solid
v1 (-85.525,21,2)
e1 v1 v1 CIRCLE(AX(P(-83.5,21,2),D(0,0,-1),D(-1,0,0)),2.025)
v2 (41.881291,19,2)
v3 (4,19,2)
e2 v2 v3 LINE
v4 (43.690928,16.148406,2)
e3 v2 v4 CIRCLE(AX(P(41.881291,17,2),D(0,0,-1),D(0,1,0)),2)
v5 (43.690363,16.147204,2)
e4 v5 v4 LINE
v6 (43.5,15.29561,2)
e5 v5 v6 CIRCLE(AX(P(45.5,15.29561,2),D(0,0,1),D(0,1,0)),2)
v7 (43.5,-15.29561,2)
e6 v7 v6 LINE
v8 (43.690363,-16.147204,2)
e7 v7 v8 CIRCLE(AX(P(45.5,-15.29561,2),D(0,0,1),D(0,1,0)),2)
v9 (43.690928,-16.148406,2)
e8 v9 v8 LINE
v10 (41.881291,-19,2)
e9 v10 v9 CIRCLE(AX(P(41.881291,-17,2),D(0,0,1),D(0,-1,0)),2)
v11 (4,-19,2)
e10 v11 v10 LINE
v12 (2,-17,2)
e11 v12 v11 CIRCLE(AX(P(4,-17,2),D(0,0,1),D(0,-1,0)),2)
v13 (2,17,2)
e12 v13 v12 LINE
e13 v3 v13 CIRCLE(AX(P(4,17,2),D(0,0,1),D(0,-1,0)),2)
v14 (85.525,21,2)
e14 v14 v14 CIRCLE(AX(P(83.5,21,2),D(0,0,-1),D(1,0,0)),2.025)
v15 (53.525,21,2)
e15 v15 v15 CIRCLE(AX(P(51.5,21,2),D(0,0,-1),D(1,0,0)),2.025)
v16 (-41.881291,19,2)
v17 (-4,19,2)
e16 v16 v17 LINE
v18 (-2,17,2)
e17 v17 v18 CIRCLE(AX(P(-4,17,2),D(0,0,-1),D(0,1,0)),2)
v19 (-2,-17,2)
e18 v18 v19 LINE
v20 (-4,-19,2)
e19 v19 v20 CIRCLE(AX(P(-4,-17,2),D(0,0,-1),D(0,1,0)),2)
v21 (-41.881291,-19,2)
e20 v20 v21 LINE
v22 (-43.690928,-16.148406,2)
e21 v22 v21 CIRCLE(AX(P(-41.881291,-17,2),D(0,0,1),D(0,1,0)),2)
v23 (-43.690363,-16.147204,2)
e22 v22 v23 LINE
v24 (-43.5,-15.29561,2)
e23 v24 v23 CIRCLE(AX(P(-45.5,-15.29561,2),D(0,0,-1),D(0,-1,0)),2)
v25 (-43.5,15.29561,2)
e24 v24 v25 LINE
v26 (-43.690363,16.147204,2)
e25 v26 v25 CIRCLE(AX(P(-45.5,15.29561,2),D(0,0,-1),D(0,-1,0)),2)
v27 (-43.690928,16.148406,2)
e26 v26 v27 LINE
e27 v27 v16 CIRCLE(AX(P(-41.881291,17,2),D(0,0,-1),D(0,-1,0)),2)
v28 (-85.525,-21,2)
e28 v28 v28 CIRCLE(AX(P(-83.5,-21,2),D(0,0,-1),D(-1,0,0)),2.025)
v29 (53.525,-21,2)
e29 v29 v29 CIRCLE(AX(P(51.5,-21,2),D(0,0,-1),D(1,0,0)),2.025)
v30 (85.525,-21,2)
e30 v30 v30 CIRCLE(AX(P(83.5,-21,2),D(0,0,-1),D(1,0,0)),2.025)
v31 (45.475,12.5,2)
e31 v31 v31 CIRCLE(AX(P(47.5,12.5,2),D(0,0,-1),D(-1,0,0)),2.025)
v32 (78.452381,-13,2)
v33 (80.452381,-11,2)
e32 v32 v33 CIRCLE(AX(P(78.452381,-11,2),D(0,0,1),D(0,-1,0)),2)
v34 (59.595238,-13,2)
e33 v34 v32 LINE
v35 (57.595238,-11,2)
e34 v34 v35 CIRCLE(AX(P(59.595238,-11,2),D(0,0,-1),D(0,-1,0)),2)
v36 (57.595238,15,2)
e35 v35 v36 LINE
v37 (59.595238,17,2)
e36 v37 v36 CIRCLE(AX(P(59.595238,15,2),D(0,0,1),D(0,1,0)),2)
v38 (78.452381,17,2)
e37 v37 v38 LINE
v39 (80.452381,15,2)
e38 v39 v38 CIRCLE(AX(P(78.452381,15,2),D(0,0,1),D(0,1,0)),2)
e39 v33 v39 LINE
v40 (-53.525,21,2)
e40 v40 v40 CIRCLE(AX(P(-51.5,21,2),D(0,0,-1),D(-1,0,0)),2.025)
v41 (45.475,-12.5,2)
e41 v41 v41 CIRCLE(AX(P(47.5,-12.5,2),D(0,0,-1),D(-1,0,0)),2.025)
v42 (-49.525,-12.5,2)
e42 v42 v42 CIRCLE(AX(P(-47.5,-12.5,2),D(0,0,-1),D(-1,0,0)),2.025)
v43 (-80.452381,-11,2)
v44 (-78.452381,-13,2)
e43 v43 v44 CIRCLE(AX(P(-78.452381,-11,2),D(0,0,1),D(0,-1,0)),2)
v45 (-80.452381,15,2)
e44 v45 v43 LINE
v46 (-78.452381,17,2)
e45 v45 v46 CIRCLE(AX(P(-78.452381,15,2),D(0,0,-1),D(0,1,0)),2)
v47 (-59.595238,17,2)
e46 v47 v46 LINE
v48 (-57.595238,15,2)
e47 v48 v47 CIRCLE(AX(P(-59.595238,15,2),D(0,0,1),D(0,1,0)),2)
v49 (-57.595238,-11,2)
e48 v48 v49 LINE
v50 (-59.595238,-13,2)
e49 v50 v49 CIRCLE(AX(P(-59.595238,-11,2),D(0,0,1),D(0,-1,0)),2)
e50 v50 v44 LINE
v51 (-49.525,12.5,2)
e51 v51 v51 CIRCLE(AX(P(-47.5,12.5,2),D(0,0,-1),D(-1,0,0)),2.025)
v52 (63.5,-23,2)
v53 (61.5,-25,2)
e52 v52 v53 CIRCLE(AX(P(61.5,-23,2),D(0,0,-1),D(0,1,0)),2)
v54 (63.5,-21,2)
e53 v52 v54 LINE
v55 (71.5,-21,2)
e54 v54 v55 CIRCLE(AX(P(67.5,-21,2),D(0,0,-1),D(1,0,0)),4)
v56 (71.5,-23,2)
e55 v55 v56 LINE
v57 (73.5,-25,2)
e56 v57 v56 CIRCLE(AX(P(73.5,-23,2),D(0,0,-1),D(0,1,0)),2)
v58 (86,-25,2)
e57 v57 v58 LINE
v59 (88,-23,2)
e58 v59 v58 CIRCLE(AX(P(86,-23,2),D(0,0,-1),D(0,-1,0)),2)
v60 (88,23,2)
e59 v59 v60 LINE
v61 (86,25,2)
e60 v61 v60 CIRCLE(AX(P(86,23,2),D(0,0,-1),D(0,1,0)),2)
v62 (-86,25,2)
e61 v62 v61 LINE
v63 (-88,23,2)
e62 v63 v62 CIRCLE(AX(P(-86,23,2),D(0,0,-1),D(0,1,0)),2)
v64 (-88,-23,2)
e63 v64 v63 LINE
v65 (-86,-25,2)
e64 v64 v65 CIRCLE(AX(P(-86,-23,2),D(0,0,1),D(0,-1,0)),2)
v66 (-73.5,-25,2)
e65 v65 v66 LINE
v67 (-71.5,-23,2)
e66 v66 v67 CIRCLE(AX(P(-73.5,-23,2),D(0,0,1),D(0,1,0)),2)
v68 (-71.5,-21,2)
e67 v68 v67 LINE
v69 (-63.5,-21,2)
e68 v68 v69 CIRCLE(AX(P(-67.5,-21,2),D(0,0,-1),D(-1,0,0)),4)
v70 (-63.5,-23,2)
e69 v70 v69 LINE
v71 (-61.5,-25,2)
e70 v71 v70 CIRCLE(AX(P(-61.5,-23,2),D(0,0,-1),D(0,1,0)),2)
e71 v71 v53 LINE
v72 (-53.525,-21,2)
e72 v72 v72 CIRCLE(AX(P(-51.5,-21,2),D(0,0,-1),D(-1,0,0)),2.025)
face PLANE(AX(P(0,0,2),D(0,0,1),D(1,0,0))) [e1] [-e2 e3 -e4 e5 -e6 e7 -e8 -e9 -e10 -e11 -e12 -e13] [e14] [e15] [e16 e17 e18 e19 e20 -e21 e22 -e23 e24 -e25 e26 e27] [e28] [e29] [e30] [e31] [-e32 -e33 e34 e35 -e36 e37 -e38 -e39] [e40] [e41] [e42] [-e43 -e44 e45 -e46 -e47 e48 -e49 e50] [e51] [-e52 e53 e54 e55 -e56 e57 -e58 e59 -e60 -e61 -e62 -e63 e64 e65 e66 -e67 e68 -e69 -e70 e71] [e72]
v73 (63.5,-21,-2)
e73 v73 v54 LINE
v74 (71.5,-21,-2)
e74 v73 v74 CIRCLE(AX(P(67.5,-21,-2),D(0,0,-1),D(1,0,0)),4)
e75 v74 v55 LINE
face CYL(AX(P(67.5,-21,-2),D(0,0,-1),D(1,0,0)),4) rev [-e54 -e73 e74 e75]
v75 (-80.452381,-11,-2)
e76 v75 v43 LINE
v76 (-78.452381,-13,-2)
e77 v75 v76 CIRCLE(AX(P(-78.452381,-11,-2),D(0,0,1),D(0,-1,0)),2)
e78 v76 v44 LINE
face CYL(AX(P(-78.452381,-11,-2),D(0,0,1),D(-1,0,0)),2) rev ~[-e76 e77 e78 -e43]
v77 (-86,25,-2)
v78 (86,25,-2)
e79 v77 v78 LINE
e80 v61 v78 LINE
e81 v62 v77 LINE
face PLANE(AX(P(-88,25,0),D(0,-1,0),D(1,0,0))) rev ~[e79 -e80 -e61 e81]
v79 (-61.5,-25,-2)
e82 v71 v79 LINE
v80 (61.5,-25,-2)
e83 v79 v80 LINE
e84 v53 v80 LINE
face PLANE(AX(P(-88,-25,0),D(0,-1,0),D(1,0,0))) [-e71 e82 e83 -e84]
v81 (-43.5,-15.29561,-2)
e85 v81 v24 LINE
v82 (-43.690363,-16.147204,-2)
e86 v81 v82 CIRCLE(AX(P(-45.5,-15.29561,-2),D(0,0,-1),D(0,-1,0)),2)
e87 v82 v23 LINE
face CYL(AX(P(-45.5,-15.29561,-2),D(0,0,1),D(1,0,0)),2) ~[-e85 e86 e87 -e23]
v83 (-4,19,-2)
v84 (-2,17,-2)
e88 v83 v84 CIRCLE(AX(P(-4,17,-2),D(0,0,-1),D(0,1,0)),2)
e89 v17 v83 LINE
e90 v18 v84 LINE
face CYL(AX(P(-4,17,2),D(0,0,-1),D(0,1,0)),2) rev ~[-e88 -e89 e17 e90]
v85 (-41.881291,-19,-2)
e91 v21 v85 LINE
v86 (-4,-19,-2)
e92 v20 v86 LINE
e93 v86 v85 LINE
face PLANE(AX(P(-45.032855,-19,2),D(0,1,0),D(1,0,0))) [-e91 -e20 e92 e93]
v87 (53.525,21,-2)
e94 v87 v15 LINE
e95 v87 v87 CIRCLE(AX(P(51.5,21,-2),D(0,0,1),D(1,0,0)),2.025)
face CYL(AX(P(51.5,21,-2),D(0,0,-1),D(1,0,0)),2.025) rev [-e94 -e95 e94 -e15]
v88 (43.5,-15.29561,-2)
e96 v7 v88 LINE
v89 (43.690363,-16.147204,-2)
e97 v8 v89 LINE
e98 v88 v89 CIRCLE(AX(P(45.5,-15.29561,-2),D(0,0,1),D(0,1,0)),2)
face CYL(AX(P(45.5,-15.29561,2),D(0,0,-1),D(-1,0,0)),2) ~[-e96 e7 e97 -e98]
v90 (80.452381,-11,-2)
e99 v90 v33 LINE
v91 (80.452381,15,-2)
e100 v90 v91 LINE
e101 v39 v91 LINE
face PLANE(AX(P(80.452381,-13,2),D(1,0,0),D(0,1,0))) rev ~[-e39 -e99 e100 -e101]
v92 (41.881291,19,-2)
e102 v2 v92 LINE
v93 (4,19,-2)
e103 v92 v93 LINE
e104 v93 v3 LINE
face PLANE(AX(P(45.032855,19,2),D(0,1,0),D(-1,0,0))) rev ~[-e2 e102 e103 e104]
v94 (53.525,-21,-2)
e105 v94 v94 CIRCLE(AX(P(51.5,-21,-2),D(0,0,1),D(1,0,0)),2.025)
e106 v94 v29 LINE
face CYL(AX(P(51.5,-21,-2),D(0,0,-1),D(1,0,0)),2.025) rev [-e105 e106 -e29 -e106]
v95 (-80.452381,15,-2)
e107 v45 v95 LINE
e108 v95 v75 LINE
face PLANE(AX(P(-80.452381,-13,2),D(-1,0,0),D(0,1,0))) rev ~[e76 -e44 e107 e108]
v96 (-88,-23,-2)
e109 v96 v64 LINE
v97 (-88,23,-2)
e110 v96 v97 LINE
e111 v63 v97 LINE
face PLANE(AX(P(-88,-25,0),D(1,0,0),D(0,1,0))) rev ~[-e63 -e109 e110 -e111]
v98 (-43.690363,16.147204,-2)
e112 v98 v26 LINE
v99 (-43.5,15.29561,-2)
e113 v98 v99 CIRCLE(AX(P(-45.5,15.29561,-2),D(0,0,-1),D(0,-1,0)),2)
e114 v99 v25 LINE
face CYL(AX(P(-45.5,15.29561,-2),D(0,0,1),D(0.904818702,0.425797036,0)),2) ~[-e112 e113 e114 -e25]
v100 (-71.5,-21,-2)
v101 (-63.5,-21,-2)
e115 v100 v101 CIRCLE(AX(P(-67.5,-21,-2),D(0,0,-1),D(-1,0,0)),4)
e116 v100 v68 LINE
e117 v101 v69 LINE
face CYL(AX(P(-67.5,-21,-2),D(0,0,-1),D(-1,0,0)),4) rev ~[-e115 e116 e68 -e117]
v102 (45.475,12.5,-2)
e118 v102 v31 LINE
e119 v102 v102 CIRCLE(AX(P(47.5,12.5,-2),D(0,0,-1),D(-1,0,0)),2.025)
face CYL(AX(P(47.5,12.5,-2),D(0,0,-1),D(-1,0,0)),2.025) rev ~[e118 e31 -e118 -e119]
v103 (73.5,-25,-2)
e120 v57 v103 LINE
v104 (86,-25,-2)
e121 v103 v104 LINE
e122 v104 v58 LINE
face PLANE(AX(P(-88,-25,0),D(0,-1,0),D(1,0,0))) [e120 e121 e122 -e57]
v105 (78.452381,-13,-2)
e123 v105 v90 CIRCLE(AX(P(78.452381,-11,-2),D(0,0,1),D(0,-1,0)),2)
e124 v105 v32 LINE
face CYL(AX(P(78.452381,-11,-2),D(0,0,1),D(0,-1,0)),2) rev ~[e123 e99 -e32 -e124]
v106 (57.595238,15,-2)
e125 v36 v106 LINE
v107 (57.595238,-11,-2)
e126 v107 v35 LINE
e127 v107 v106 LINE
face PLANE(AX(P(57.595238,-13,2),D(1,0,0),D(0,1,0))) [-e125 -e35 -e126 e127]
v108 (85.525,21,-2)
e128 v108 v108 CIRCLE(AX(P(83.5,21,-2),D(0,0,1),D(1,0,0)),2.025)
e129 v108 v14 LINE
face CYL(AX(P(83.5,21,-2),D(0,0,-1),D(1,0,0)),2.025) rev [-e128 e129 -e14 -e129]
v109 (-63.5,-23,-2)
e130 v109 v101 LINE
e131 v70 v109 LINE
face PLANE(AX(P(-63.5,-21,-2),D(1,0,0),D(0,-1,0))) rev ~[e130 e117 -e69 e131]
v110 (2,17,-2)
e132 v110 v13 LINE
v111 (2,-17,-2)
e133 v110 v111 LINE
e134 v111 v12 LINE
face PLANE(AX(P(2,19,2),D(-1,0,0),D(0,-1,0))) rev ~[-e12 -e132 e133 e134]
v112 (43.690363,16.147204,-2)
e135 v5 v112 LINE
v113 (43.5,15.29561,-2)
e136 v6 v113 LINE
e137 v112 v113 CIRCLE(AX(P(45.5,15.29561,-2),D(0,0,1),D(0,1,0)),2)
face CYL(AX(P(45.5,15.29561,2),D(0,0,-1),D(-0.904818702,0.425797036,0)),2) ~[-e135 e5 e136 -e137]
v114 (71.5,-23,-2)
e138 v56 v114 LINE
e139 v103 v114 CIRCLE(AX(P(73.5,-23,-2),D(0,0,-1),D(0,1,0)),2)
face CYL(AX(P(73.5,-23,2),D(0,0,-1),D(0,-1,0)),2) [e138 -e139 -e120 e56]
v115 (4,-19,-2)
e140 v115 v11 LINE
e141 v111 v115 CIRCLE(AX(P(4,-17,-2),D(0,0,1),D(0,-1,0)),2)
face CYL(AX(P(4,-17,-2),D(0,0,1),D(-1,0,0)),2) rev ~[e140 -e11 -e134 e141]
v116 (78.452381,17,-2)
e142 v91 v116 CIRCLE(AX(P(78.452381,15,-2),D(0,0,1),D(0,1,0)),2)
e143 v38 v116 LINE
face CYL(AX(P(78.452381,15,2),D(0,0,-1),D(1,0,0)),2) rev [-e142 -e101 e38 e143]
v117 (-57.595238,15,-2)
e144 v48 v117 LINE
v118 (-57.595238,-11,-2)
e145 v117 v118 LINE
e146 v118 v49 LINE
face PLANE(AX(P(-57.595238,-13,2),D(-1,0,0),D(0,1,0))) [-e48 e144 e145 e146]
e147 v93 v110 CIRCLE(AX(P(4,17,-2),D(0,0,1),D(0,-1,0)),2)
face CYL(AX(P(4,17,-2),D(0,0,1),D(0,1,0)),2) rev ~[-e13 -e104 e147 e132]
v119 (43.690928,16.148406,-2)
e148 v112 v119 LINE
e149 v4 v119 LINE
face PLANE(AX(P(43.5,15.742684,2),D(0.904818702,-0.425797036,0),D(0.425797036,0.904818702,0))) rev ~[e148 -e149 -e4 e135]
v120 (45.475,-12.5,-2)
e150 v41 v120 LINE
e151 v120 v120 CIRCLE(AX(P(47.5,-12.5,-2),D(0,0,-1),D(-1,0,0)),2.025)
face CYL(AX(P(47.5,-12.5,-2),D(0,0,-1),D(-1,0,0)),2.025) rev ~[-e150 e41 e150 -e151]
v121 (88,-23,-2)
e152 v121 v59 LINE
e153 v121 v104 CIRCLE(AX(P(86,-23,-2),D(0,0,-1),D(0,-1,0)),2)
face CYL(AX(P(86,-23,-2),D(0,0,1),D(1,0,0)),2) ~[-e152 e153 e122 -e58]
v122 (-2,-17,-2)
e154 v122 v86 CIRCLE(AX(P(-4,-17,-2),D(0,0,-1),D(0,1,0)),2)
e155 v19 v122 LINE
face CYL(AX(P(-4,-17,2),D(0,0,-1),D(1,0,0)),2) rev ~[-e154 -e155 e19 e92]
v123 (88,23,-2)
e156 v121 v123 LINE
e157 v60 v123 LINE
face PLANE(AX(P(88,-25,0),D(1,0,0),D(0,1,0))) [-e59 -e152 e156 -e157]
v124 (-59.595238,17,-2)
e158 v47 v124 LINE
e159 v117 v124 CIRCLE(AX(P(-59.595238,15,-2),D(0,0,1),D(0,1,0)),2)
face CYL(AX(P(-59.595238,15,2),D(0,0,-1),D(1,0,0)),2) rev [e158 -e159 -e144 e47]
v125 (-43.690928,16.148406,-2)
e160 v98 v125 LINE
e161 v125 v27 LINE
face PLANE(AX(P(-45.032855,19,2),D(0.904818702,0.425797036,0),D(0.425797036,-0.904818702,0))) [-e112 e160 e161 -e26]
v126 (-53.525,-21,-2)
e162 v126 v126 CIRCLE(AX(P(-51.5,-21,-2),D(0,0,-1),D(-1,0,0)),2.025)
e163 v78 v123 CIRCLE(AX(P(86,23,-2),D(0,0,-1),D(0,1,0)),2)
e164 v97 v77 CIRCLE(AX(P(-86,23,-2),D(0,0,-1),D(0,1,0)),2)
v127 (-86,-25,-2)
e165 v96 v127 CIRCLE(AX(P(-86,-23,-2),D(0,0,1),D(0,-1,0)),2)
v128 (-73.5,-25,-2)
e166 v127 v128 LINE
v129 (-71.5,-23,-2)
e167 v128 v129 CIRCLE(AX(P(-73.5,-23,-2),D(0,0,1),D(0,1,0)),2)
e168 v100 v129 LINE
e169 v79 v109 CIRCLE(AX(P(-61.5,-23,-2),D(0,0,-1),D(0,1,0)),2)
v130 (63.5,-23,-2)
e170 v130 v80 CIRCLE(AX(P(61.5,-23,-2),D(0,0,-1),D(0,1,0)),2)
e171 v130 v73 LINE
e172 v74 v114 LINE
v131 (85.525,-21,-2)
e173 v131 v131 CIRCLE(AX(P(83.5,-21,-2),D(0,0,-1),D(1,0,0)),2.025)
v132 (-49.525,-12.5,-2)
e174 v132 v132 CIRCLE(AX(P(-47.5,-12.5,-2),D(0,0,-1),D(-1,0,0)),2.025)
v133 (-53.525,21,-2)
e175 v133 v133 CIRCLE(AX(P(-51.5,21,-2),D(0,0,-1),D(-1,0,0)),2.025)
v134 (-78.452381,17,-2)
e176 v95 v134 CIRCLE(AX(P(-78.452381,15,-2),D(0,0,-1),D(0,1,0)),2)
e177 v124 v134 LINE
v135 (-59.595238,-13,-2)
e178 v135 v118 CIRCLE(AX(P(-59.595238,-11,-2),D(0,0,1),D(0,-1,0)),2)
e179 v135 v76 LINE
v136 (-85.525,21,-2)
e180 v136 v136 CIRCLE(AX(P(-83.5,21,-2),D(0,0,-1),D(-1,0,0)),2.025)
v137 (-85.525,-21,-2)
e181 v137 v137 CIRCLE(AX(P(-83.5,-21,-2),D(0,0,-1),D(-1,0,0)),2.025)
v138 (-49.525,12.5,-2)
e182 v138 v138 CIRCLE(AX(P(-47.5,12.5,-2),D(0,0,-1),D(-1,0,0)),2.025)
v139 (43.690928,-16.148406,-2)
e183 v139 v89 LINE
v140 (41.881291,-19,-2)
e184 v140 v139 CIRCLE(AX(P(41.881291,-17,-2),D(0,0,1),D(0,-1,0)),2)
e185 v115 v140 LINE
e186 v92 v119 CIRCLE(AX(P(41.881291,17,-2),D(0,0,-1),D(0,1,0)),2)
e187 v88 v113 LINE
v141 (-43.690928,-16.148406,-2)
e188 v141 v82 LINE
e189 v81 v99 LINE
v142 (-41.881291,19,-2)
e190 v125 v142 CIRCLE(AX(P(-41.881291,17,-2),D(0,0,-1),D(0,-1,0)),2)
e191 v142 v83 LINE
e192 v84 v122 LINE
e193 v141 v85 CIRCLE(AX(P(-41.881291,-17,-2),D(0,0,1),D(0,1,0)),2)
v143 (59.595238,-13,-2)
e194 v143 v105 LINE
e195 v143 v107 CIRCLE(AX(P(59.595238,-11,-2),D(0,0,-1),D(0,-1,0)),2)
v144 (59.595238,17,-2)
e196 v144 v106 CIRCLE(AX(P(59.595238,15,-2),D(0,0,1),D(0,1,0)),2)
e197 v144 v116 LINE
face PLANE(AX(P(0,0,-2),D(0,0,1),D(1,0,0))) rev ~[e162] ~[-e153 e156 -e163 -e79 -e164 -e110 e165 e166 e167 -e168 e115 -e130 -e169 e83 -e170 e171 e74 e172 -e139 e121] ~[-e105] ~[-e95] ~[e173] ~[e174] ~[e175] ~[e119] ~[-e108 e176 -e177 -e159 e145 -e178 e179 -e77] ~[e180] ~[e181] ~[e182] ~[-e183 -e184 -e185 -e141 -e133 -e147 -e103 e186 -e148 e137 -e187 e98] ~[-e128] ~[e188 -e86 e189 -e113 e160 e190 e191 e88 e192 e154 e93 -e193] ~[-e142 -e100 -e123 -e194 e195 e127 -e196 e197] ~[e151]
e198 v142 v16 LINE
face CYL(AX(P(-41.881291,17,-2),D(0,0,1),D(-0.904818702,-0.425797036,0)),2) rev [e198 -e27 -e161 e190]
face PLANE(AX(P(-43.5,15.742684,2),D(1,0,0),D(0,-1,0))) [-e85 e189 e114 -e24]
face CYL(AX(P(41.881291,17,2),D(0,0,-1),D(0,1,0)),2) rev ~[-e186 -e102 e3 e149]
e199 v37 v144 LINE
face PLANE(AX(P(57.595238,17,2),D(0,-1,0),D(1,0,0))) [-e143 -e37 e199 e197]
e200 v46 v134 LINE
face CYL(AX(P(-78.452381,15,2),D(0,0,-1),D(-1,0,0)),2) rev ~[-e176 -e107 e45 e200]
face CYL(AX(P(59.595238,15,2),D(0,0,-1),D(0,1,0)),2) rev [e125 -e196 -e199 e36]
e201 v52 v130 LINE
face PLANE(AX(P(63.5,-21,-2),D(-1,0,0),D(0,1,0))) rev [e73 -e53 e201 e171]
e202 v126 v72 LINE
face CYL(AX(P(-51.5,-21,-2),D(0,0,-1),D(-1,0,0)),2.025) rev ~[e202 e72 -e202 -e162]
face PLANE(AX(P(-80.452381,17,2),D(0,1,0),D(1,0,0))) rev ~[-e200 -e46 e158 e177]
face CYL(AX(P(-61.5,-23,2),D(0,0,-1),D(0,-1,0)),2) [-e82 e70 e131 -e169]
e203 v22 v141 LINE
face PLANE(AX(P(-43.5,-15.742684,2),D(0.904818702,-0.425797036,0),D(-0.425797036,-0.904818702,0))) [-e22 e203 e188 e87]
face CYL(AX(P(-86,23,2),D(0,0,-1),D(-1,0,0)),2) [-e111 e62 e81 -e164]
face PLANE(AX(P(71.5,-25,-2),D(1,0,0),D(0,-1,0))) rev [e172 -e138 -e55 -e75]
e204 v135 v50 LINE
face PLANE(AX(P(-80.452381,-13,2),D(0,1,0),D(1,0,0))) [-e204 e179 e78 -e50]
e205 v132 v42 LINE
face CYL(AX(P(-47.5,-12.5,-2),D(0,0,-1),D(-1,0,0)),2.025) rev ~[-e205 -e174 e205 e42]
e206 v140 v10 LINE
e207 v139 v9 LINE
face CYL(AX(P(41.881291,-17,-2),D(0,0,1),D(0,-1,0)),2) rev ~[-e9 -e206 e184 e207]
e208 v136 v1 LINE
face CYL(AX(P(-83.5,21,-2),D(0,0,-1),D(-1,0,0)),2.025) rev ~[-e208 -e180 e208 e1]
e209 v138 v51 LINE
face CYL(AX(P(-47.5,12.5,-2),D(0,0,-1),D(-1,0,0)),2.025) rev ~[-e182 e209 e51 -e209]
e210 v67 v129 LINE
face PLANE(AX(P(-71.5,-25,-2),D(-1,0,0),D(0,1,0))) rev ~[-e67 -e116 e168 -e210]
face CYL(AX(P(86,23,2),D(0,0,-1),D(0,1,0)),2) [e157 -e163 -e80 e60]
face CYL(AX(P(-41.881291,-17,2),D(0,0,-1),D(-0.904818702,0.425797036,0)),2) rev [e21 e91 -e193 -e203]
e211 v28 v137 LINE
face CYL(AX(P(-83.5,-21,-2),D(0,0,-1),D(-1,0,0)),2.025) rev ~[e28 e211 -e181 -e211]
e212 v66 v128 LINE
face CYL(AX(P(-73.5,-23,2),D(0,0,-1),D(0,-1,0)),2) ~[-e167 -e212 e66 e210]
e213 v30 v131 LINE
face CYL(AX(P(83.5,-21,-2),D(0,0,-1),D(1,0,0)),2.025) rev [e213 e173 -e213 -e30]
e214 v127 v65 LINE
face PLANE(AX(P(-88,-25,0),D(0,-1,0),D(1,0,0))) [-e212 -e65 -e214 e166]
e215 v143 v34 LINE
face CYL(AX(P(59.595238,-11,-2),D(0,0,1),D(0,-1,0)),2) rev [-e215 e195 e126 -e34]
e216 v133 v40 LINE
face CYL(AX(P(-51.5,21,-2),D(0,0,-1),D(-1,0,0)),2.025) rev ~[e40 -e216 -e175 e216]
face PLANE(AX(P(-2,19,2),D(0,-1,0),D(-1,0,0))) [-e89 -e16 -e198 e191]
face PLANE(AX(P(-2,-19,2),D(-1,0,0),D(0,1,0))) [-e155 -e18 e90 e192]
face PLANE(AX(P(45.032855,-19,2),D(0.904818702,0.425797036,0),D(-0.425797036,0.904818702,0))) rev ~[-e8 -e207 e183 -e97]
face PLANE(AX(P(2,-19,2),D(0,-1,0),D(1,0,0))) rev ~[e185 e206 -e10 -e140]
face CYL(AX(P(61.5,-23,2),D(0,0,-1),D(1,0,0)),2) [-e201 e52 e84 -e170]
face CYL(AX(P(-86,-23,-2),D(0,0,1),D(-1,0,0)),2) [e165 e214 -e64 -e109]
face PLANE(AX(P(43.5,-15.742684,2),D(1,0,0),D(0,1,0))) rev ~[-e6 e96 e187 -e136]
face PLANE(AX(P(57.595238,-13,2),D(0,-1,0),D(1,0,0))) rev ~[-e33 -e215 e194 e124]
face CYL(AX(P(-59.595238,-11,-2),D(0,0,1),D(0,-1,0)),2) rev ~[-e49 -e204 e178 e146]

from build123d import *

# Parameters (mm, degrees)
SKETCH_1_W          = 176
SKETCH_1_H          = 50
EXTRUDE_1_DEPTH     = 2
SKETCH_2_R          = 2.025
CUT_EXTRUDE_1_DEPTH = 22
CUT_EXTRUDE_2_DEPTH = 17
FILLET_1_R          = 2
SKETCH_4_R          = 2.025
CUT_EXTRUDE_3_DEPTH = 5
CUT_EXTRUDE_5_DEPTH = 15.5
SKETCH_8_W          = 22.857142857
SKETCH_8_H          = 30
CUT_EXTRUDE_6_DEPTH = 15.5
FILLET_2_R          = 2


with BuildPart() as part:
    # 草图1 → 凸台-拉伸1 (new, symmetric)
    with BuildSketch(Plane.XY):
        Rectangle(SKETCH_1_W, SKETCH_1_H)
    extrude(amount=EXTRUDE_1_DEPTH, both=True)

    # 草图2 → 切除-拉伸1 (cut, symmetric)
    with BuildSketch(Plane(origin=(0, 0, -2), x_dir=(-1, 0, 0), z_dir=(0, 0, -1))):
        with Locations((51.5, 21)):
            Circle(SKETCH_2_R)
        with Locations((51.5, -21)):
            Circle(SKETCH_2_R)
        with Locations((83.5, 21)):
            Circle(SKETCH_2_R)
        with Locations((83.5, -21)):
            Circle(SKETCH_2_R)
    cut_extrude_1 = extrude(amount=CUT_EXTRUDE_1_DEPTH, both=True, mode=Mode.SUBTRACT)

    # 镜向1: 切除-拉伸1 across plane
    add(cut_extrude_1.mirror(Plane(origin=(0, 0, 0), x_dir=(0, 0, 1), z_dir=(1, 0, 0))), mode=Mode.SUBTRACT)

    # 草图3 → 切除-拉伸2 (cut, symmetric)
    with BuildSketch(Plane(origin=(0, 0, -2), x_dir=(-1, 0, 0), z_dir=(0, 0, -1))):
        with BuildLine():
            Line((63.5, -21), (63.5, -25))
            Line((63.5, -25), (71.5, -25))
            Line((71.5, -25), (71.5, -21))
            ThreePointArc((71.5, -21), (67.5, -17), (63.5, -21))
        make_face()
    cut_extrude_2 = extrude(amount=CUT_EXTRUDE_2_DEPTH, both=True, mode=Mode.SUBTRACT)

    # 镜向2: 切除-拉伸2 across plane
    add(cut_extrude_2.mirror(Plane(origin=(0, 0, 0), x_dir=(0, 0, 1), z_dir=(1, 0, 0))), mode=Mode.SUBTRACT)

    # 圆角1
    fillet_1_edges = [part.edges().sort_by_distance(p)[0] for p in [
        (-71.5, -25, 0),
        (-63.5, -25, 0),
        (88, -25, 0),
        (-88, -25, 0),
        (-88, 25, 0),
        (88, 25, 0),
        (63.5, -25, 0),
        (71.5, -25, 0),
    ]]
    fillet(fillet_1_edges, radius=FILLET_1_R)

    # 草图4 → 切除-拉伸3 (cut, symmetric)
    with BuildSketch(Plane(origin=(0, 0, -2), x_dir=(-1, 0, 0), z_dir=(0, 0, -1))):
        with Locations((47.5, -12.5)):
            Circle(SKETCH_4_R)
        with Locations((47.5, 12.5)):
            Circle(SKETCH_4_R)
        with Locations((-47.5, 12.5)):
            Circle(SKETCH_4_R)
        with Locations((-47.5, -12.5)):
            Circle(SKETCH_4_R)
    extrude(amount=CUT_EXTRUDE_3_DEPTH, both=True, mode=Mode.SUBTRACT)

    # 草图7 → 切除-拉伸5 (cut, symmetric)
    with BuildSketch(Plane.XY.offset(2)):
        Polygon((-2, 19), (-45.032854639, 19), (-43.5, 15.742683893), (-43.5, -15.742683893), (-45.032854639, -19), (-2, -19), align=None)
        Polygon((45.032854639, 19), (2, 19), (2, -19), (45.032854639, -19), (43.5, -15.742683893), (43.5, 15.742683893), align=None)
    extrude(amount=CUT_EXTRUDE_5_DEPTH, both=True, mode=Mode.SUBTRACT)

    # 草图8 → 切除-拉伸6 (cut, symmetric)
    with BuildSketch(Plane.XY.offset(2)):
        with Locations((-69.023809524, 2)):
            Rectangle(SKETCH_8_W, SKETCH_8_H)
        with Locations((69.023809524, 2)):
            Rectangle(SKETCH_8_W, SKETCH_8_H)
    extrude(amount=CUT_EXTRUDE_6_DEPTH, both=True, mode=Mode.SUBTRACT)

    # 圆角2
    fillet_2_edges = [part.edges().sort_by_distance(p)[0] for p in [
        (-2, 19, 0),
        (-2, -19, 0),
        (-45.032854639, -19, 0),
        (-43.5, -15.742683893, 0),
        (-43.5, 15.742683893, 0),
        (-45.032854639, 19, 0),
        (2, 19, 0),
        (45.032854639, 19, 0),
        (43.5, 15.742683893, 0),
        (43.5, -15.742683893, 0),
        (45.032854639, -19, 0),
        (2, -19, 0),
        (-80.452380952, -13, 0),
        (-80.452380952, 17, 0),
        (-57.595238095, 17, 0),
        (-57.595238095, -13, 0),
        (80.452380952, 17, 0),
        (80.452380952, -13, 0),
        (57.595238095, -13, 0),
        (57.595238095, 17, 0),
    ]]
    fillet(fillet_2_edges, radius=FILLET_2_R)


solid = part.part
